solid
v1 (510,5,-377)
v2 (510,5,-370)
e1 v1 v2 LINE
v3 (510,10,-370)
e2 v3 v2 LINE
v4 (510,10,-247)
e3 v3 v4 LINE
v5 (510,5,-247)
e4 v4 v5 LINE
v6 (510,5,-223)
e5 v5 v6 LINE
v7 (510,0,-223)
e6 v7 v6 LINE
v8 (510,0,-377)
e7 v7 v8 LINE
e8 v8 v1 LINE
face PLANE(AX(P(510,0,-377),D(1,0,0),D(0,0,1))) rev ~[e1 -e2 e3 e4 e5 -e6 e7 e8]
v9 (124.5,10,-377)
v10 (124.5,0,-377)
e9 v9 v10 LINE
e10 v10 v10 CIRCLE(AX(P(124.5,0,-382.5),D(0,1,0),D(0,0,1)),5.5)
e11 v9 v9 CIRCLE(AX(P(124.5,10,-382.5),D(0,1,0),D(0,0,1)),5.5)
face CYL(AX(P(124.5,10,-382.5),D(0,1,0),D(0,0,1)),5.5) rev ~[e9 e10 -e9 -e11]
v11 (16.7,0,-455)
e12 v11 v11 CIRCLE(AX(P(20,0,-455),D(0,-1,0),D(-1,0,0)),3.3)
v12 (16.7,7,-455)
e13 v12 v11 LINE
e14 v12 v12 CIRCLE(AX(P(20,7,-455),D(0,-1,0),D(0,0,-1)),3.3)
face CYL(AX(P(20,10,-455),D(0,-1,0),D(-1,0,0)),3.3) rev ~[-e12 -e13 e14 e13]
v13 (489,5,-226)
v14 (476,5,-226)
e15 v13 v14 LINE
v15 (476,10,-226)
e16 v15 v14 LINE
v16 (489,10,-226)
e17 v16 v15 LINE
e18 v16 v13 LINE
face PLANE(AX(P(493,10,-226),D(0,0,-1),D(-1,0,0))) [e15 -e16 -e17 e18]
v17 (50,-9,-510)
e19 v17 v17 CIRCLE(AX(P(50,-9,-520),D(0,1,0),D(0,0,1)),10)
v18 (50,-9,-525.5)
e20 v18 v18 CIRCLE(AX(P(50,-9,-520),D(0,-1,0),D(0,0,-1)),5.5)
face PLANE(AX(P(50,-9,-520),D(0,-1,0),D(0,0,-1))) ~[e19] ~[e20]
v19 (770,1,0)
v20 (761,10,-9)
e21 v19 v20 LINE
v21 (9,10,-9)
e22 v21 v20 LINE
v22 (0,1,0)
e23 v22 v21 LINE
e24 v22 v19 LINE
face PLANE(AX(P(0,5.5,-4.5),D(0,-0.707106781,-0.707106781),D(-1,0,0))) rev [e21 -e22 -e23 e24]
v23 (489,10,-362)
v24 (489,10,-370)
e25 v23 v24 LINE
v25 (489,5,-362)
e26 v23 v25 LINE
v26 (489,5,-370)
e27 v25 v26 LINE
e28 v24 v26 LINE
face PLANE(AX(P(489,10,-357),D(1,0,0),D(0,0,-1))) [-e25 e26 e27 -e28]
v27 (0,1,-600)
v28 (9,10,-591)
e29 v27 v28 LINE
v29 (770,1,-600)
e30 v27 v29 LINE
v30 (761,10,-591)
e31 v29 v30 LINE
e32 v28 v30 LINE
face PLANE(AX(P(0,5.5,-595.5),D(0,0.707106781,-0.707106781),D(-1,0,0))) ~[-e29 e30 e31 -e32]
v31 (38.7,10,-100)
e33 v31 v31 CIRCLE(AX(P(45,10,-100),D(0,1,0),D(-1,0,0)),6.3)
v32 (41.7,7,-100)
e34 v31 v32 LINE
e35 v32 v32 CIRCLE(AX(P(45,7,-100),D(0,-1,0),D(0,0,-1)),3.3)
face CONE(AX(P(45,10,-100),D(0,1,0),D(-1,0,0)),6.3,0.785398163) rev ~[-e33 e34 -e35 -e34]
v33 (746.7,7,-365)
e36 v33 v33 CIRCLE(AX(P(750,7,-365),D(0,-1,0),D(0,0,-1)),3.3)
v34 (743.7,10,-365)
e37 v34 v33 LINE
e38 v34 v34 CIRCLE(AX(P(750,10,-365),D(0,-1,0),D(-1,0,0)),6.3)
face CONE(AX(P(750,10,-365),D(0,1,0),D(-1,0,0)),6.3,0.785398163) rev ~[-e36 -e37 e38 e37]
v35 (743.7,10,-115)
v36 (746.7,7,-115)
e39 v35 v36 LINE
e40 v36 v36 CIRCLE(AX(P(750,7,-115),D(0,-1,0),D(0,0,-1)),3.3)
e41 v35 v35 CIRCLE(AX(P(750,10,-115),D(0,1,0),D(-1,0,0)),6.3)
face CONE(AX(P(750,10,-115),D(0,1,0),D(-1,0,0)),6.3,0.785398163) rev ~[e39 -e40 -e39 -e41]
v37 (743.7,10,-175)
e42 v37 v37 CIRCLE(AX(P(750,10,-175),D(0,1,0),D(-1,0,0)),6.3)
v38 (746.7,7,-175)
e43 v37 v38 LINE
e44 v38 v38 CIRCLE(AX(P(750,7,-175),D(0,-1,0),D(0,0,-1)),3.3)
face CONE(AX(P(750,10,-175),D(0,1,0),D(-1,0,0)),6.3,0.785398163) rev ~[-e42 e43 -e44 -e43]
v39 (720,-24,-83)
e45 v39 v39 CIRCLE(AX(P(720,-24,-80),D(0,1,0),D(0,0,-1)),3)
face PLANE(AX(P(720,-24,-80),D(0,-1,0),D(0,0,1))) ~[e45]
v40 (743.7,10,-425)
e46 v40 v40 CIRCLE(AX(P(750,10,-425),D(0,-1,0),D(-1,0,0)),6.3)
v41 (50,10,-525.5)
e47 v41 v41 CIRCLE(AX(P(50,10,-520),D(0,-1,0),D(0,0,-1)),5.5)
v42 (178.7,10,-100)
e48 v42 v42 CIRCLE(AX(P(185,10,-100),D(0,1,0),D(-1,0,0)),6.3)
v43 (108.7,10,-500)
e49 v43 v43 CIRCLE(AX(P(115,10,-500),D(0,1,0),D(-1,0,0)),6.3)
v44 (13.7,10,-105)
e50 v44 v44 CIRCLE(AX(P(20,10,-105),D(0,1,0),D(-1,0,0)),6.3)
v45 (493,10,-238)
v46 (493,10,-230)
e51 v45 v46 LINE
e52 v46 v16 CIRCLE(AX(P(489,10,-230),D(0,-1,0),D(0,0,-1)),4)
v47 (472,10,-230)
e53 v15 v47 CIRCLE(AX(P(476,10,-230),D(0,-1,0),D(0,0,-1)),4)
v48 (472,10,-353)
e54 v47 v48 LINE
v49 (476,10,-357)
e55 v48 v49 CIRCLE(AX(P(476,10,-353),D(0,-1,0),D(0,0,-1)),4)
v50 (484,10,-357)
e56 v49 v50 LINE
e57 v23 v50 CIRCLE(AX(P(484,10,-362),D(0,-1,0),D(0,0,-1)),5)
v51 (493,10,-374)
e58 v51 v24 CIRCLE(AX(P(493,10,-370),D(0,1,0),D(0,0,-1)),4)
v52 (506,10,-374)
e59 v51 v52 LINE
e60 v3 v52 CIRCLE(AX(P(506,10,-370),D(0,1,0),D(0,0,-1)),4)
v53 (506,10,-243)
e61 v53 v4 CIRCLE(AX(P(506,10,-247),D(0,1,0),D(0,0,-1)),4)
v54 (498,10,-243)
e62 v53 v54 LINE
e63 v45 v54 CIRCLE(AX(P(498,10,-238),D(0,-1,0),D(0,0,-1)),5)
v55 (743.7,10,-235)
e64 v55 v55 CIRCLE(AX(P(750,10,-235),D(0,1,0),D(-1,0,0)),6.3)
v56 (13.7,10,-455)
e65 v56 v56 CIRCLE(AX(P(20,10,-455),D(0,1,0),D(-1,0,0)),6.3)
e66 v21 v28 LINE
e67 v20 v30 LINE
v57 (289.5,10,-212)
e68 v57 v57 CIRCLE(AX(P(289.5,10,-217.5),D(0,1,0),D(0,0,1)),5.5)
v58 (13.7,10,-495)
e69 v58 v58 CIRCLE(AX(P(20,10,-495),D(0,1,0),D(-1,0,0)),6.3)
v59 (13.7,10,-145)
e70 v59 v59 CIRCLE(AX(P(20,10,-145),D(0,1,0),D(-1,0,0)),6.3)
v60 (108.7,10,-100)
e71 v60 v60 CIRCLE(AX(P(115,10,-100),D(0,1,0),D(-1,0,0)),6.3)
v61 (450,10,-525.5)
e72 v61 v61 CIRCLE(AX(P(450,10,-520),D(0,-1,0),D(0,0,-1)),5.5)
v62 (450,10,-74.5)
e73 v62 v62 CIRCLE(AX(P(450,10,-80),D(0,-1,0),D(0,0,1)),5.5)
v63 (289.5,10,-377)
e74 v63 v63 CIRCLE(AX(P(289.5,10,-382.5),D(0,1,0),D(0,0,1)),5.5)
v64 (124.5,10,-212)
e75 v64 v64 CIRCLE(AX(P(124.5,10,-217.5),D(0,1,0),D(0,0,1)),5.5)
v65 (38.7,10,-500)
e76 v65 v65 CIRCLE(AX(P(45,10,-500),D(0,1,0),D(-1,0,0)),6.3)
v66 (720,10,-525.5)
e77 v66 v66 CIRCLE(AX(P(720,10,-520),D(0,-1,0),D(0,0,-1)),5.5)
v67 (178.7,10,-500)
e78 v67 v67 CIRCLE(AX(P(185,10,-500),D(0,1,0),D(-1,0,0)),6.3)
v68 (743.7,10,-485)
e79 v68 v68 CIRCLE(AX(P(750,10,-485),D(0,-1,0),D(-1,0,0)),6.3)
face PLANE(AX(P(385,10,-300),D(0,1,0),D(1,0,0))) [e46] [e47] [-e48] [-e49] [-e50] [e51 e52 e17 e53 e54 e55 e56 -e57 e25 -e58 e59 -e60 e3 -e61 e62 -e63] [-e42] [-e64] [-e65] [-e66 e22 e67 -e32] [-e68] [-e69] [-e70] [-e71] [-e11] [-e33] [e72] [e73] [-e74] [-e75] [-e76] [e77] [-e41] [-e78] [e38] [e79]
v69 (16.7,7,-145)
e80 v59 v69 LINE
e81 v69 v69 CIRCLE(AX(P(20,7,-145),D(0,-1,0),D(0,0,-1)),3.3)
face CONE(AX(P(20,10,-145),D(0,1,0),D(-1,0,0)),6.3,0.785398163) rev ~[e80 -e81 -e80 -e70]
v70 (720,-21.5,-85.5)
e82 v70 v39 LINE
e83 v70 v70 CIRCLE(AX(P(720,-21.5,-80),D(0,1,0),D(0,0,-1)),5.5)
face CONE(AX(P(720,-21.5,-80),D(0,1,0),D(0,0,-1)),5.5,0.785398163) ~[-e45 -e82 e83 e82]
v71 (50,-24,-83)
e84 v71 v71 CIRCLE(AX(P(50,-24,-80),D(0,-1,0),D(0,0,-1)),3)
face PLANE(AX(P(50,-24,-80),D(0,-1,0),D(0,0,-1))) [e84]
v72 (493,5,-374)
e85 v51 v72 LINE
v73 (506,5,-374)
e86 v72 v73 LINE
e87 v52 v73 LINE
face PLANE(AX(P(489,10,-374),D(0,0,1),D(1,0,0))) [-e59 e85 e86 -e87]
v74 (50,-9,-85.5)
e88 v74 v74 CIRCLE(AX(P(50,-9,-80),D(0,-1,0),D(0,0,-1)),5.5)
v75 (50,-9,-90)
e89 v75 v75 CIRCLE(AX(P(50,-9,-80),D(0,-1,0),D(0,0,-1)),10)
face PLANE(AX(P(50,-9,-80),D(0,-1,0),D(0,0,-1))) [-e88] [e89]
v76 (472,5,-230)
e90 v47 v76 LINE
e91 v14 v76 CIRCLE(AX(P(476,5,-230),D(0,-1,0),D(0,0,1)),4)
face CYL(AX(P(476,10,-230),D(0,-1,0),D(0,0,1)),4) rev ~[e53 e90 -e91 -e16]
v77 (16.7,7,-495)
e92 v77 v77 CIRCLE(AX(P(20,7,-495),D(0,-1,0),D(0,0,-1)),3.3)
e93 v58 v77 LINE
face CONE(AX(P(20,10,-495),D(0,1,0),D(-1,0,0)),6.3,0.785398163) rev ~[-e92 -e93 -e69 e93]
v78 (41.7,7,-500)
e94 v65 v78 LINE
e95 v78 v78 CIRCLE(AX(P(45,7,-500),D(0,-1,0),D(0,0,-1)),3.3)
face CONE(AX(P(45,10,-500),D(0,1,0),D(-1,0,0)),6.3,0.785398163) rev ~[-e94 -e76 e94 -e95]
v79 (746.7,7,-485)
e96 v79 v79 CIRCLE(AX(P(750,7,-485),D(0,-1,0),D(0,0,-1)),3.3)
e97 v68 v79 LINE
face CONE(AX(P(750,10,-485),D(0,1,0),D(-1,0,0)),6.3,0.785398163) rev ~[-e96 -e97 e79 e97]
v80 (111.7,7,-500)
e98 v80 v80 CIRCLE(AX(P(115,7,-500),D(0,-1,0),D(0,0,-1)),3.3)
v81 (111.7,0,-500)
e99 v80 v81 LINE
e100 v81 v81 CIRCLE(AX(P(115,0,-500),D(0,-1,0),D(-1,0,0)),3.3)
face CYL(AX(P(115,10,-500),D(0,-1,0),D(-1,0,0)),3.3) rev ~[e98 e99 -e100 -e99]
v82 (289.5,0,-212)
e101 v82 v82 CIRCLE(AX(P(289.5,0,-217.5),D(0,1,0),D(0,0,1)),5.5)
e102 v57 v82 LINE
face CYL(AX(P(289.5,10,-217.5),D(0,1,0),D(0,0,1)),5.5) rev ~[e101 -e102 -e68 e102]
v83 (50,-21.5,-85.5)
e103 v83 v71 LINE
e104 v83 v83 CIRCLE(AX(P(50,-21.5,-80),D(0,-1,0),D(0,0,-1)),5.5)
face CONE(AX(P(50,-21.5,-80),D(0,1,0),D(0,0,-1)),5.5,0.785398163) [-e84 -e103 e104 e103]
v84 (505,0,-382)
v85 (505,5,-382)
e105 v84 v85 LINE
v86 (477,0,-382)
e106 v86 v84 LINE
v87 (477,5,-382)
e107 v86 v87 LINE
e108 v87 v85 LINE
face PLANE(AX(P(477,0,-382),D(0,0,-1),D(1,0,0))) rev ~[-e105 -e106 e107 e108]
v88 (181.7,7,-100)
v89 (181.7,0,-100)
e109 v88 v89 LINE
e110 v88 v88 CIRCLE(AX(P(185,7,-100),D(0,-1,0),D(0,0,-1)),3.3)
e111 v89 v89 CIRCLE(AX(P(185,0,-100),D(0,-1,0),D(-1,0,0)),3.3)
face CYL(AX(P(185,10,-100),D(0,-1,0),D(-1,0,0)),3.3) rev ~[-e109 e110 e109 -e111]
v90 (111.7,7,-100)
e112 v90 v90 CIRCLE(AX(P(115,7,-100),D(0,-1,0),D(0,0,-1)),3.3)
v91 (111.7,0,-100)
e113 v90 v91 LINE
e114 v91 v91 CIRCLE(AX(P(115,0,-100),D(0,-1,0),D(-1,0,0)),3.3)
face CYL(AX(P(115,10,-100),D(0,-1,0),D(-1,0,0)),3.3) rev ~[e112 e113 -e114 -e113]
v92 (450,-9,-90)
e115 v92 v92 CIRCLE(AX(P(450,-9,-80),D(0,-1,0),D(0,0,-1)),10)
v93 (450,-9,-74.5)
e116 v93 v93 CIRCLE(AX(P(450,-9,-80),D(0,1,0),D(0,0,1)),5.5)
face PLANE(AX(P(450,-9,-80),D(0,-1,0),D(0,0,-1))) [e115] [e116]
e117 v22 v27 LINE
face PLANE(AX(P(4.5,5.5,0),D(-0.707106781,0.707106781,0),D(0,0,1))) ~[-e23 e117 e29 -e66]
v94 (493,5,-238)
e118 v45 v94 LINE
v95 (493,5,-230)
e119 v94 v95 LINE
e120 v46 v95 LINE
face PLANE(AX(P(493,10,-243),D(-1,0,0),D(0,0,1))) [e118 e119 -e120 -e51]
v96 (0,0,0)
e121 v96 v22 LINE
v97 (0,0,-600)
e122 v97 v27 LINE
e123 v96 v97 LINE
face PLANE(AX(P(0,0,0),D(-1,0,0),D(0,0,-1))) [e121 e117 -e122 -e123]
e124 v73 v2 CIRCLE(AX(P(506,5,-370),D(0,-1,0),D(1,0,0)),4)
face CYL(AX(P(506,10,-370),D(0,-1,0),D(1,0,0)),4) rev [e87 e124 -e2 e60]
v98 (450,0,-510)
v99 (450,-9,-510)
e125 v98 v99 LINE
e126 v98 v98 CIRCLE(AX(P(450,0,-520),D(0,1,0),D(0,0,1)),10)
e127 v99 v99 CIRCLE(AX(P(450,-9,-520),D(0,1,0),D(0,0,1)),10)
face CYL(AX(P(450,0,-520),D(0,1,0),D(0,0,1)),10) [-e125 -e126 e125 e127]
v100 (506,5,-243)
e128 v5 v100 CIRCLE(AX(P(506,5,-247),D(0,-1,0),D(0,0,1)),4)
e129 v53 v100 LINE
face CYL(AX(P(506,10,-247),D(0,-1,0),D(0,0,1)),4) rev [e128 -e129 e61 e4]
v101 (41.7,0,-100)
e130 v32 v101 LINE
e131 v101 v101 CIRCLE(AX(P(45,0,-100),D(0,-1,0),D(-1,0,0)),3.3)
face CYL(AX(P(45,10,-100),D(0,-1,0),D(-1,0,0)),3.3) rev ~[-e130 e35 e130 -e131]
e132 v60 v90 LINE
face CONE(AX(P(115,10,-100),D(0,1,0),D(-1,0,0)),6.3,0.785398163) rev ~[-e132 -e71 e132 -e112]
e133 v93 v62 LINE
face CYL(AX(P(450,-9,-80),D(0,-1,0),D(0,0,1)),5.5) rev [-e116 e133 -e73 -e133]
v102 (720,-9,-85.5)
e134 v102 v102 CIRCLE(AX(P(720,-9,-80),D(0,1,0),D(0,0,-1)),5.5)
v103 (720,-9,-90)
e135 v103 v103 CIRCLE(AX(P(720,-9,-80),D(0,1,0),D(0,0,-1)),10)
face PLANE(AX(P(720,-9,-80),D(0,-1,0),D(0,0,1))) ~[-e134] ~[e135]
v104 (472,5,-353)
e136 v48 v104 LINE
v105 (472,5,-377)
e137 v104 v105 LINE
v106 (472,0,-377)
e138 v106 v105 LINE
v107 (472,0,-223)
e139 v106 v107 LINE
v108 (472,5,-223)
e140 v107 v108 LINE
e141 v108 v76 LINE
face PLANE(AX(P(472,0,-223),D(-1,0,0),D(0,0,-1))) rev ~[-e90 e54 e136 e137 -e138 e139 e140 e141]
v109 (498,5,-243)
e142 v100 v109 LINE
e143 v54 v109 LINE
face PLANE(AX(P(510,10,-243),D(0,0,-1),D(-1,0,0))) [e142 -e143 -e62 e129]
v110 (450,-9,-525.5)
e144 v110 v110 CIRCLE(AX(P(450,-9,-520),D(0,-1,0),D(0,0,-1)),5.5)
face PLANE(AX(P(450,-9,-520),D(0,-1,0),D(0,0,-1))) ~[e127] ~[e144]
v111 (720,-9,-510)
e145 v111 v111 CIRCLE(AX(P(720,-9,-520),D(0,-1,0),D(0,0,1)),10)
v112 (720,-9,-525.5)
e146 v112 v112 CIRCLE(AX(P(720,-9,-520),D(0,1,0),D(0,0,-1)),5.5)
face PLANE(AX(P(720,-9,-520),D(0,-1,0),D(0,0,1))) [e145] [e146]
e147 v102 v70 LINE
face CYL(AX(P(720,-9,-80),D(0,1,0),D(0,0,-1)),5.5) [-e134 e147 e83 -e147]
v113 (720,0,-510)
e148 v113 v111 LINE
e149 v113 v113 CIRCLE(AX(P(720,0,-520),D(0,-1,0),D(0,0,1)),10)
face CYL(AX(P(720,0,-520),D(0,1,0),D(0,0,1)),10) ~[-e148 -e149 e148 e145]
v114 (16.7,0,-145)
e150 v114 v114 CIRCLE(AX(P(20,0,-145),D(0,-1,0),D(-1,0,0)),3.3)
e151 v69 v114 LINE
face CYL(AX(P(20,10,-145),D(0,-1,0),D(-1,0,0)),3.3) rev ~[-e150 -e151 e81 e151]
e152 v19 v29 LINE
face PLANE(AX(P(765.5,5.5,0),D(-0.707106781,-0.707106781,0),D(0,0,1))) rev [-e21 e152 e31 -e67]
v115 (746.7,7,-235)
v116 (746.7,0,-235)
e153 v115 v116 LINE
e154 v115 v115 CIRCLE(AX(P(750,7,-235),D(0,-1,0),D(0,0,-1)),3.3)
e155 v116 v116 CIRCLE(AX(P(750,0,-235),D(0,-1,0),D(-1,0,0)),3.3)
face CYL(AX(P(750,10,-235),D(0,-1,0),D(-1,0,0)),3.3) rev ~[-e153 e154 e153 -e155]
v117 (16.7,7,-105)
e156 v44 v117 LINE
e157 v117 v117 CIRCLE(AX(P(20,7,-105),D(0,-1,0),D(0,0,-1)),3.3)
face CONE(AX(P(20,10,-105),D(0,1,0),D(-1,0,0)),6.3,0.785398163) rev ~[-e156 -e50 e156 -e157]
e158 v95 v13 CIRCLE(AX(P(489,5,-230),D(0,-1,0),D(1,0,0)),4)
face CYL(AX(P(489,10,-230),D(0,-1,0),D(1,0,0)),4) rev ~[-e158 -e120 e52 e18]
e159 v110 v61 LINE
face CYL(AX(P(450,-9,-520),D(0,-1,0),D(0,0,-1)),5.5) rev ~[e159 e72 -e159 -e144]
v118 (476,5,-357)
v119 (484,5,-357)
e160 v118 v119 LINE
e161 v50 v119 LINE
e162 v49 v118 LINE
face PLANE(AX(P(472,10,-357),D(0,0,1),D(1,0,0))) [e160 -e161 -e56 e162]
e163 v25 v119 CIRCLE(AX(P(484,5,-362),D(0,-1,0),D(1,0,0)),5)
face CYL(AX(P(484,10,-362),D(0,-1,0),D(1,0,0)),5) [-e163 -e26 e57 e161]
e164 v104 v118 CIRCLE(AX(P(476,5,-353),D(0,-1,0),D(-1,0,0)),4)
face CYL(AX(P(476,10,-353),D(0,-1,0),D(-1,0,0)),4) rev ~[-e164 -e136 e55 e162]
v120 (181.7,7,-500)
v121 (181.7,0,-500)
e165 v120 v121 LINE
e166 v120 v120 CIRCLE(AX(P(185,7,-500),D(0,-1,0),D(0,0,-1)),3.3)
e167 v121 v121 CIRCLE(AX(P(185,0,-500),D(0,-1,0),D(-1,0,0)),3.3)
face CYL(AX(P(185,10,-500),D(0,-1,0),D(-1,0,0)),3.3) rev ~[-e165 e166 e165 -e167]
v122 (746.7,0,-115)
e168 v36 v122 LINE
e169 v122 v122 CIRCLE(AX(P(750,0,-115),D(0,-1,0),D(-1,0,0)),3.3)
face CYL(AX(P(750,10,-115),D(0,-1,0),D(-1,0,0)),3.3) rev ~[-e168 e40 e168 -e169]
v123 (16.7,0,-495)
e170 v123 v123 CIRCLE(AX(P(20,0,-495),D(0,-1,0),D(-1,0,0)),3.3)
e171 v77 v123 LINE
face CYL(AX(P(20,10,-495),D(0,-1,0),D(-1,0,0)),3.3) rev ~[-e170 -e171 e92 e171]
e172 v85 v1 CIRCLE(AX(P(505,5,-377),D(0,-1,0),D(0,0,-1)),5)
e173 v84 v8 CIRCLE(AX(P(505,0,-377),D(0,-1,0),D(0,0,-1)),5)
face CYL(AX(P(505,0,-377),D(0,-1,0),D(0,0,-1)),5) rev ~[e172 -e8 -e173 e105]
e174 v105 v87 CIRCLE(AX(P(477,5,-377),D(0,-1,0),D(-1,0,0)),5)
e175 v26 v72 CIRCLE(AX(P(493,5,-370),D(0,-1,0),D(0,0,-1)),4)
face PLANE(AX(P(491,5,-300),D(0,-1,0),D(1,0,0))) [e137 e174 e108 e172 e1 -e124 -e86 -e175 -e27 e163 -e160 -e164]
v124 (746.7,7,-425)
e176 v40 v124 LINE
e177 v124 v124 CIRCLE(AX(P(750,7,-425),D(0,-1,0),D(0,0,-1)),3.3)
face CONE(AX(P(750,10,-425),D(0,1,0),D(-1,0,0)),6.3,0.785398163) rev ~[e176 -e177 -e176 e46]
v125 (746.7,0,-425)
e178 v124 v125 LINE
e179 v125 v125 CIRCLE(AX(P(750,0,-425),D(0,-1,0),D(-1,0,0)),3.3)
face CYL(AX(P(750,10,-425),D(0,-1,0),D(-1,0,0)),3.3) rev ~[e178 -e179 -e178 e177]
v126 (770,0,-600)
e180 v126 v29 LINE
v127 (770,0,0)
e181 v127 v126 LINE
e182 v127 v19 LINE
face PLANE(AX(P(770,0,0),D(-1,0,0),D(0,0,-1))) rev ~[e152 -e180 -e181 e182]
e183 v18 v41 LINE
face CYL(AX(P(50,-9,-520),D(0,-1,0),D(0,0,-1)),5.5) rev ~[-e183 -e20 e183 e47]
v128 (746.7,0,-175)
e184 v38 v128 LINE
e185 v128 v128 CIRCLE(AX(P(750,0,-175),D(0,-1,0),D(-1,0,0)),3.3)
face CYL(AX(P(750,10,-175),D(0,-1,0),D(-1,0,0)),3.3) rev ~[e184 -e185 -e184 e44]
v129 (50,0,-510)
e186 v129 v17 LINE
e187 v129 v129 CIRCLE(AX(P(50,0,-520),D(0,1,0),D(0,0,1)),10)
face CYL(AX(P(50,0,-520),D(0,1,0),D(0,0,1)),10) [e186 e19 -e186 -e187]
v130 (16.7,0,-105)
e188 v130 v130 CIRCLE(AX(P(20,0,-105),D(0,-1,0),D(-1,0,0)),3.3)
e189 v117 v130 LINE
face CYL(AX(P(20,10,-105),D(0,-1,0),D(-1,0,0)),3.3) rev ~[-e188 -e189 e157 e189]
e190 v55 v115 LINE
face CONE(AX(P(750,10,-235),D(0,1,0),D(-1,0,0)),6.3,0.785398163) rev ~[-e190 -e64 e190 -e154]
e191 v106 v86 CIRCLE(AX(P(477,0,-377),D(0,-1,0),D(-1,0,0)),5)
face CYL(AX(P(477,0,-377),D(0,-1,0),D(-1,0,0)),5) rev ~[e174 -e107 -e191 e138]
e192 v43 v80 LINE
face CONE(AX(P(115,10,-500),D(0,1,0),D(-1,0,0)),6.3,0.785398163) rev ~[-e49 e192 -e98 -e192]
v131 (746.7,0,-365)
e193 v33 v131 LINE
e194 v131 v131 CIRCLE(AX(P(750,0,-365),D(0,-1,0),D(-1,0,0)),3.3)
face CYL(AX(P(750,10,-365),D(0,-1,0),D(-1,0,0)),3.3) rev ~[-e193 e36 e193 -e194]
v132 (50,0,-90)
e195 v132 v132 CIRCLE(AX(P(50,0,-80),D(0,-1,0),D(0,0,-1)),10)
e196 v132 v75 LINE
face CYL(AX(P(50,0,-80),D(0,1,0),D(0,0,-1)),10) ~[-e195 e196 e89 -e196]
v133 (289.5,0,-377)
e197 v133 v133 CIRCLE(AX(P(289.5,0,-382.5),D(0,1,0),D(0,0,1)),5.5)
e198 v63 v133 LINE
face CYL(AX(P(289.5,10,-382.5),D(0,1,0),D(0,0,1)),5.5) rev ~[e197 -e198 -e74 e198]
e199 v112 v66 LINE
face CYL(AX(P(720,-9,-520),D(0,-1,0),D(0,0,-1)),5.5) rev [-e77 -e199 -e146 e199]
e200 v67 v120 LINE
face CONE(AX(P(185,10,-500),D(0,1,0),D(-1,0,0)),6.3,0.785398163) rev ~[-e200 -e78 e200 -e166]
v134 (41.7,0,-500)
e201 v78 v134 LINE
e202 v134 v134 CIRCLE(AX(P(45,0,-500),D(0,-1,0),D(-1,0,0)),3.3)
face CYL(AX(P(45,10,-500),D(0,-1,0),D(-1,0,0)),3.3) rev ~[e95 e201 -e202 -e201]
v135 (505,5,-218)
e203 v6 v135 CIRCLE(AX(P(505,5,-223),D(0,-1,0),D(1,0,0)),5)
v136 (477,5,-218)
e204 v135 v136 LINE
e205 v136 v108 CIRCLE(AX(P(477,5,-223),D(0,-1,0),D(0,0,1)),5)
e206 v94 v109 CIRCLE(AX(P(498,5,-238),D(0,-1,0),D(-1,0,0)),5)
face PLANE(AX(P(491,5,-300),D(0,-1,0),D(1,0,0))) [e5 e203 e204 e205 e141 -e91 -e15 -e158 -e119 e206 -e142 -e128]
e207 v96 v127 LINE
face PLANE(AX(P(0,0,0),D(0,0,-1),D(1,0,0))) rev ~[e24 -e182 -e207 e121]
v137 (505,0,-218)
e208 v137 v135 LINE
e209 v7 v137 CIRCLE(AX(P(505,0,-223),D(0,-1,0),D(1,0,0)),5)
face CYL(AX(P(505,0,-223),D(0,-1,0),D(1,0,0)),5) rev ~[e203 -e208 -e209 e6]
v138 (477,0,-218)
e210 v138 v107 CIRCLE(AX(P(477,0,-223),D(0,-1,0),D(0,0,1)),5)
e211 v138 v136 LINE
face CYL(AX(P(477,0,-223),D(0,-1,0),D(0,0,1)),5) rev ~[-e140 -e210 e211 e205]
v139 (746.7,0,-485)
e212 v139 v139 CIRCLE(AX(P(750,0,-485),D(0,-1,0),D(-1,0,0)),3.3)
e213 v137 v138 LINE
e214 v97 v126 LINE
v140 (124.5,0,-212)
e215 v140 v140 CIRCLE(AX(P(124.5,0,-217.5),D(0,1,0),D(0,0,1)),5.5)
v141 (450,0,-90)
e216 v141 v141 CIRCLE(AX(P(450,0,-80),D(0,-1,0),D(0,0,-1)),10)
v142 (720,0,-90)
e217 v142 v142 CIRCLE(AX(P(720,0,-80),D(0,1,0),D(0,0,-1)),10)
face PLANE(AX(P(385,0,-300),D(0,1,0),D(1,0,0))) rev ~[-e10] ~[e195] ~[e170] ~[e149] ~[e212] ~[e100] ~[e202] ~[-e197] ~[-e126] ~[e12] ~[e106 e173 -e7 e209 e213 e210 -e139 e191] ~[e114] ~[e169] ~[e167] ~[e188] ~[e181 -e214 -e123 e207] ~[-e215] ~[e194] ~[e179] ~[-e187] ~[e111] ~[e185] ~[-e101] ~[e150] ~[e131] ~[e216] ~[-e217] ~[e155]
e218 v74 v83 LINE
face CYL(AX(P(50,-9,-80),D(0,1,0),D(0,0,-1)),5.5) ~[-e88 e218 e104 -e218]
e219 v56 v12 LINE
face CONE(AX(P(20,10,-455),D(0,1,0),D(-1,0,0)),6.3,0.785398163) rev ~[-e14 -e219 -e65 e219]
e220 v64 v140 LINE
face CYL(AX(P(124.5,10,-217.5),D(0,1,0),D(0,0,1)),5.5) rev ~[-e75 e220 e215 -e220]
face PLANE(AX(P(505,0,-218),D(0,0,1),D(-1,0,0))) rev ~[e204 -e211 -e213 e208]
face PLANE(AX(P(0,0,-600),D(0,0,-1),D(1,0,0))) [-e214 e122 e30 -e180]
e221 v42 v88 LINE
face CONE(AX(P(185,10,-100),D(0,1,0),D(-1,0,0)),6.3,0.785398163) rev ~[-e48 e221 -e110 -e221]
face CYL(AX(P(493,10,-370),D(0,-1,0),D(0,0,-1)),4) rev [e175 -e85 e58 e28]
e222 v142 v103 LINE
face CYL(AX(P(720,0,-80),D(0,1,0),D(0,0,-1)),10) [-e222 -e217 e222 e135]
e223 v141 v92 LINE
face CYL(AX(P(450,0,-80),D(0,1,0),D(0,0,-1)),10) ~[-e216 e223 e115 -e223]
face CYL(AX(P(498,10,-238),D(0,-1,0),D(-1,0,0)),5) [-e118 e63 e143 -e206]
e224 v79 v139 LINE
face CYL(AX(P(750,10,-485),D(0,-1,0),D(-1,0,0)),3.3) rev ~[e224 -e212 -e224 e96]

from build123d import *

# Parameters (mm, degrees)
SKETCH1_W                                           = 770
SKETCH1_H                                           = 600
BOSS_EXTRUDE1_DEPTH                                 = 10
CHAMFER1_SIZE                                       = 9
CUT_EXTRUDE1_DEPTH                                  = 11
FILLET1_R                                           = 5
FILLET2_R                                           = 4
CUT_EXTRUDE2_DEPTH                                  = 5
SKETCH4_R                                           = 10
BOSS_EXTRUDE2_DEPTH                                 = 9
MIRROR2_COPY_1_SKETCH_R                             = 10
MIRROR2_COPY_1_DEPTH                                = 9
SKETCH5_R                                           = 10
BOSS_EXTRUDE3_DEPTH                                 = 9
SKETCH6_R                                           = 5.5
CUT_EXTRUDE3_DEPTH                                  = 20
SKETCH7_R                                           = 5.5
CUT_EXTRUDE4_DEPTH                                  = 20
SKETCH8_R                                           = 5.5
BOSS_EXTRUDE5_DEPTH                                 = 15
CHAMFER2_SIZE                                       = 2.5
CHAMFER3_SIZE                                       = 2.5
CSK_FOR_M6_COUNTERSUNK_FLAT_HEAD_SCREW1_D           = 6.6
CSK_FOR_M6_COUNTERSUNK_FLAT_HEAD_SCREW1_DEPTH       = 23
CSK_FOR_M6_COUNTERSUNK_FLAT_HEAD_SCREW1_CSINK_D     = 12.6
CSK_FOR_M6_COUNTERSUNK_FLAT_HEAD_SCREW1_CSINK_ANGLE = 90
CSK_FOR_M6_COUNTERSUNK_FLAT_HEAD_SCREW1_TIP         = 1.982840043
SKETCH11_R                                          = 5.5
CUT_EXTRUDE5_DEPTH                                  = 35


with BuildPart() as part:
    # Sketch1 → Boss-Extrude1 (new body)
    with BuildSketch(Plane(origin=(0, 0, 0), x_dir=(1, 0, 0), z_dir=(0, 1, 0))):
        with Locations((385, 300)):
            Rectangle(SKETCH1_W, SKETCH1_H)
    extrude(amount=BOSS_EXTRUDE1_DEPTH)

    # Chamfer1
    chamfer1_edges = [part.edges().sort_by_distance(p)[0] for p in [
        (770, 10, -300),
        (385, 10, -600),
        (0, 10, -300),
        (385, 10, 0),
    ]]
    chamfer(chamfer1_edges, length=CHAMFER1_SIZE)

    # Sketch2 → Cut-Extrude1 (cut, through all)
    with BuildSketch(Plane(origin=(0, 10, 0), x_dir=(1, 0, 0), z_dir=(0, 1, 0))):
        Polygon((472, 226), (472, 357), (489, 357), (489, 374), (510, 374), (510, 243), (493, 243), (493, 226), align=None)
    extrude(amount=-CUT_EXTRUDE1_DEPTH, mode=Mode.SUBTRACT)

    # Fillet1
    fillet1_edges = [part.edges().sort_by_distance(p)[0] for p in [
        (489, 5, -357),
        (493, 5, -243),
    ]]
    fillet(fillet1_edges, radius=FILLET1_R)

    # Fillet2
    fillet2_edges = [part.edges().sort_by_distance(p)[0] for p in [
        (493, 5, -226),
        (472, 5, -226),
        (472, 5, -357),
        (489, 5, -374),
        (510, 5, -374),
        (510, 5, -243),
    ]]
    fillet(fillet2_edges, radius=FILLET2_R)

    # Sketch3 → Cut-Extrude2 (cut)
    with BuildSketch(Plane.XZ):
        with BuildLine():
            Line((505, -218), (477, -218))
            ThreePointArc((477, -218), (473.464466094, -219.464466094), (472, -223))
            Line((472, -223), (472, -377))
            ThreePointArc((472, -377), (473.464466094, -380.535533906), (477, -382))
            Line((477, -382), (505, -382))
            ThreePointArc((505, -382), (508.535533906, -380.535533906), (510, -377))
            Line((510, -377), (510, -223))
            ThreePointArc((510, -223), (508.535533906, -219.464466094), (505, -218))
        make_face()
    extrude(amount=-CUT_EXTRUDE2_DEPTH, mode=Mode.SUBTRACT)

    # Sketch4 → Boss-Extrude2 (add)
    with BuildSketch(Plane.XZ):
        with Locations(Location((50, -80, 0), (0, 0, 270))):  # turned: the seam where the file's is
            Circle(SKETCH4_R)
    boss_extrude2 = extrude(amount=BOSS_EXTRUDE2_DEPTH)

    # Mirror1: Boss-Extrude2 across plane
    add(boss_extrude2.mirror(Plane.ZY.offset(-385)))

    # Mirror2: Boss-Extrude2 across plane
    add(boss_extrude2.mirror(Plane.XY.offset(-300)))

    # Mirror2 copy 1 sketch → Mirror2 copy 1 (add)
    with BuildSketch(Plane(origin=(770, 0, -600), x_dir=(-1, 0, 0), z_dir=(0, -1, 0))):
        with Locations(Location((50, -80, 0), (0, 0, 270))):  # turned: the seam where the file's is
            Circle(MIRROR2_COPY_1_SKETCH_R)
    extrude(amount=MIRROR2_COPY_1_DEPTH)

    # Sketch5 → Boss-Extrude3 (add)
    with BuildSketch(Plane.XZ):
        with Locations(Location((450, -80, 0), (0, 0, 270))):  # turned: the seam where the file's is
            Circle(SKETCH5_R)
    boss_extrude3 = extrude(amount=BOSS_EXTRUDE3_DEPTH)

    # Mirror3: Boss-Extrude3 across plane
    add(boss_extrude3.mirror(Plane.XY.offset(-300)))

    # Sketch6 → Cut-Extrude3 (cut, through all)
    with BuildSketch(Plane.XZ.offset(9)):
        with Locations(Location((50, -520, 0), (0, 0, 270))):  # turned: the seam where the file's is
            Circle(SKETCH6_R)
    cut_extrude3 = extrude(amount=-CUT_EXTRUDE3_DEPTH, mode=Mode.SUBTRACT)

    # Mirror4: Cut-Extrude3 across plane
    add(cut_extrude3.mirror(Plane.ZY.offset(-385)), mode=Mode.SUBTRACT)

    # Sketch7 → Cut-Extrude4 (cut, through all)
    with BuildSketch(Plane.XZ.offset(9)):
        with Locations(Location((450, -520, 0), (0, 0, 270))):  # turned: the seam where the file's is
            Circle(SKETCH7_R)
    cut_extrude4 = extrude(amount=-CUT_EXTRUDE4_DEPTH, mode=Mode.SUBTRACT)

    # Mirror5: Cut-Extrude4 across plane
    add(cut_extrude4.mirror(Plane.XY.offset(-300)), mode=Mode.SUBTRACT)

    # Sketch8 → Boss-Extrude5 (add)
    with BuildSketch(Plane.XZ.offset(9)):
        with Locations(Location((50, -80, 0), (0, 0, 270))):  # turned: the seam where the file's is
            Circle(SKETCH8_R)
    boss_extrude5 = extrude(amount=BOSS_EXTRUDE5_DEPTH)

    # Chamfer2
    chamfer2_edges = [part.edges().sort_by_distance(p)[0] for p in [
        (50, -24, -74.5),
    ]]
    chamfer(chamfer2_edges, length=CHAMFER2_SIZE)

    # Mirror7: Boss-Extrude5 across plane
    add(boss_extrude5.mirror(Plane.ZY.offset(-385)))

    # Chamfer3
    chamfer3_edges = [part.edges().sort_by_distance(p)[0] for p in [
        (720, -24, -74.5),
    ]]
    chamfer(chamfer3_edges, length=CHAMFER3_SIZE)

    # CSK for M6 Countersunk Flat Head Screw1
    with Locations(Plane(origin=(0, 10, 0), x_dir=(1, 0, 0), z_dir=(0, 1, 0))):
        with Locations((45, 500), (115, 500), (185, 500), (20, 145), (20, 105), (45, 100), (115, 100), (185, 100), (750, 115), (750, 175), (750, 235), (750, 365), (750, 425), (750, 485), (20, 495), (20, 455)):
            CounterSinkHole(CSK_FOR_M6_COUNTERSUNK_FLAT_HEAD_SCREW1_D / 2, CSK_FOR_M6_COUNTERSUNK_FLAT_HEAD_SCREW1_CSINK_D / 2, depth=CSK_FOR_M6_COUNTERSUNK_FLAT_HEAD_SCREW1_DEPTH, counter_sink_angle=CSK_FOR_M6_COUNTERSUNK_FLAT_HEAD_SCREW1_CSINK_ANGLE)
            with Locations((0, 0, -(CSK_FOR_M6_COUNTERSUNK_FLAT_HEAD_SCREW1_DEPTH + CSK_FOR_M6_COUNTERSUNK_FLAT_HEAD_SCREW1_TIP / 2))):  # 118° drill point
                Cone(0, CSK_FOR_M6_COUNTERSUNK_FLAT_HEAD_SCREW1_D / 2, CSK_FOR_M6_COUNTERSUNK_FLAT_HEAD_SCREW1_TIP, mode=Mode.SUBTRACT)

    # Sketch11 → Cut-Extrude5 (cut, through all)
    with BuildSketch(Plane(origin=(0, 10, 0), x_dir=(1, 0, 0), z_dir=(0, 1, 0))):
        with Locations(Location((289.5, 382.5, 0), (0, 0, 270))):  # turned: the seam where the file's is
            Circle(SKETCH11_R)
        with Locations(Location((289.5, 217.5, 0), (0, 0, 270))):  # turned: the seam where the file's is
            Circle(SKETCH11_R)
        with Locations(Location((124.5, 217.5, 0), (0, 0, 270))):  # turned: the seam where the file's is
            Circle(SKETCH11_R)
        with Locations(Location((124.5, 382.5, 0), (0, 0, 270))):  # turned: the seam where the file's is
            Circle(SKETCH11_R)
    extrude(amount=-CUT_EXTRUDE5_DEPTH, mode=Mode.SUBTRACT)


solid = part.part
